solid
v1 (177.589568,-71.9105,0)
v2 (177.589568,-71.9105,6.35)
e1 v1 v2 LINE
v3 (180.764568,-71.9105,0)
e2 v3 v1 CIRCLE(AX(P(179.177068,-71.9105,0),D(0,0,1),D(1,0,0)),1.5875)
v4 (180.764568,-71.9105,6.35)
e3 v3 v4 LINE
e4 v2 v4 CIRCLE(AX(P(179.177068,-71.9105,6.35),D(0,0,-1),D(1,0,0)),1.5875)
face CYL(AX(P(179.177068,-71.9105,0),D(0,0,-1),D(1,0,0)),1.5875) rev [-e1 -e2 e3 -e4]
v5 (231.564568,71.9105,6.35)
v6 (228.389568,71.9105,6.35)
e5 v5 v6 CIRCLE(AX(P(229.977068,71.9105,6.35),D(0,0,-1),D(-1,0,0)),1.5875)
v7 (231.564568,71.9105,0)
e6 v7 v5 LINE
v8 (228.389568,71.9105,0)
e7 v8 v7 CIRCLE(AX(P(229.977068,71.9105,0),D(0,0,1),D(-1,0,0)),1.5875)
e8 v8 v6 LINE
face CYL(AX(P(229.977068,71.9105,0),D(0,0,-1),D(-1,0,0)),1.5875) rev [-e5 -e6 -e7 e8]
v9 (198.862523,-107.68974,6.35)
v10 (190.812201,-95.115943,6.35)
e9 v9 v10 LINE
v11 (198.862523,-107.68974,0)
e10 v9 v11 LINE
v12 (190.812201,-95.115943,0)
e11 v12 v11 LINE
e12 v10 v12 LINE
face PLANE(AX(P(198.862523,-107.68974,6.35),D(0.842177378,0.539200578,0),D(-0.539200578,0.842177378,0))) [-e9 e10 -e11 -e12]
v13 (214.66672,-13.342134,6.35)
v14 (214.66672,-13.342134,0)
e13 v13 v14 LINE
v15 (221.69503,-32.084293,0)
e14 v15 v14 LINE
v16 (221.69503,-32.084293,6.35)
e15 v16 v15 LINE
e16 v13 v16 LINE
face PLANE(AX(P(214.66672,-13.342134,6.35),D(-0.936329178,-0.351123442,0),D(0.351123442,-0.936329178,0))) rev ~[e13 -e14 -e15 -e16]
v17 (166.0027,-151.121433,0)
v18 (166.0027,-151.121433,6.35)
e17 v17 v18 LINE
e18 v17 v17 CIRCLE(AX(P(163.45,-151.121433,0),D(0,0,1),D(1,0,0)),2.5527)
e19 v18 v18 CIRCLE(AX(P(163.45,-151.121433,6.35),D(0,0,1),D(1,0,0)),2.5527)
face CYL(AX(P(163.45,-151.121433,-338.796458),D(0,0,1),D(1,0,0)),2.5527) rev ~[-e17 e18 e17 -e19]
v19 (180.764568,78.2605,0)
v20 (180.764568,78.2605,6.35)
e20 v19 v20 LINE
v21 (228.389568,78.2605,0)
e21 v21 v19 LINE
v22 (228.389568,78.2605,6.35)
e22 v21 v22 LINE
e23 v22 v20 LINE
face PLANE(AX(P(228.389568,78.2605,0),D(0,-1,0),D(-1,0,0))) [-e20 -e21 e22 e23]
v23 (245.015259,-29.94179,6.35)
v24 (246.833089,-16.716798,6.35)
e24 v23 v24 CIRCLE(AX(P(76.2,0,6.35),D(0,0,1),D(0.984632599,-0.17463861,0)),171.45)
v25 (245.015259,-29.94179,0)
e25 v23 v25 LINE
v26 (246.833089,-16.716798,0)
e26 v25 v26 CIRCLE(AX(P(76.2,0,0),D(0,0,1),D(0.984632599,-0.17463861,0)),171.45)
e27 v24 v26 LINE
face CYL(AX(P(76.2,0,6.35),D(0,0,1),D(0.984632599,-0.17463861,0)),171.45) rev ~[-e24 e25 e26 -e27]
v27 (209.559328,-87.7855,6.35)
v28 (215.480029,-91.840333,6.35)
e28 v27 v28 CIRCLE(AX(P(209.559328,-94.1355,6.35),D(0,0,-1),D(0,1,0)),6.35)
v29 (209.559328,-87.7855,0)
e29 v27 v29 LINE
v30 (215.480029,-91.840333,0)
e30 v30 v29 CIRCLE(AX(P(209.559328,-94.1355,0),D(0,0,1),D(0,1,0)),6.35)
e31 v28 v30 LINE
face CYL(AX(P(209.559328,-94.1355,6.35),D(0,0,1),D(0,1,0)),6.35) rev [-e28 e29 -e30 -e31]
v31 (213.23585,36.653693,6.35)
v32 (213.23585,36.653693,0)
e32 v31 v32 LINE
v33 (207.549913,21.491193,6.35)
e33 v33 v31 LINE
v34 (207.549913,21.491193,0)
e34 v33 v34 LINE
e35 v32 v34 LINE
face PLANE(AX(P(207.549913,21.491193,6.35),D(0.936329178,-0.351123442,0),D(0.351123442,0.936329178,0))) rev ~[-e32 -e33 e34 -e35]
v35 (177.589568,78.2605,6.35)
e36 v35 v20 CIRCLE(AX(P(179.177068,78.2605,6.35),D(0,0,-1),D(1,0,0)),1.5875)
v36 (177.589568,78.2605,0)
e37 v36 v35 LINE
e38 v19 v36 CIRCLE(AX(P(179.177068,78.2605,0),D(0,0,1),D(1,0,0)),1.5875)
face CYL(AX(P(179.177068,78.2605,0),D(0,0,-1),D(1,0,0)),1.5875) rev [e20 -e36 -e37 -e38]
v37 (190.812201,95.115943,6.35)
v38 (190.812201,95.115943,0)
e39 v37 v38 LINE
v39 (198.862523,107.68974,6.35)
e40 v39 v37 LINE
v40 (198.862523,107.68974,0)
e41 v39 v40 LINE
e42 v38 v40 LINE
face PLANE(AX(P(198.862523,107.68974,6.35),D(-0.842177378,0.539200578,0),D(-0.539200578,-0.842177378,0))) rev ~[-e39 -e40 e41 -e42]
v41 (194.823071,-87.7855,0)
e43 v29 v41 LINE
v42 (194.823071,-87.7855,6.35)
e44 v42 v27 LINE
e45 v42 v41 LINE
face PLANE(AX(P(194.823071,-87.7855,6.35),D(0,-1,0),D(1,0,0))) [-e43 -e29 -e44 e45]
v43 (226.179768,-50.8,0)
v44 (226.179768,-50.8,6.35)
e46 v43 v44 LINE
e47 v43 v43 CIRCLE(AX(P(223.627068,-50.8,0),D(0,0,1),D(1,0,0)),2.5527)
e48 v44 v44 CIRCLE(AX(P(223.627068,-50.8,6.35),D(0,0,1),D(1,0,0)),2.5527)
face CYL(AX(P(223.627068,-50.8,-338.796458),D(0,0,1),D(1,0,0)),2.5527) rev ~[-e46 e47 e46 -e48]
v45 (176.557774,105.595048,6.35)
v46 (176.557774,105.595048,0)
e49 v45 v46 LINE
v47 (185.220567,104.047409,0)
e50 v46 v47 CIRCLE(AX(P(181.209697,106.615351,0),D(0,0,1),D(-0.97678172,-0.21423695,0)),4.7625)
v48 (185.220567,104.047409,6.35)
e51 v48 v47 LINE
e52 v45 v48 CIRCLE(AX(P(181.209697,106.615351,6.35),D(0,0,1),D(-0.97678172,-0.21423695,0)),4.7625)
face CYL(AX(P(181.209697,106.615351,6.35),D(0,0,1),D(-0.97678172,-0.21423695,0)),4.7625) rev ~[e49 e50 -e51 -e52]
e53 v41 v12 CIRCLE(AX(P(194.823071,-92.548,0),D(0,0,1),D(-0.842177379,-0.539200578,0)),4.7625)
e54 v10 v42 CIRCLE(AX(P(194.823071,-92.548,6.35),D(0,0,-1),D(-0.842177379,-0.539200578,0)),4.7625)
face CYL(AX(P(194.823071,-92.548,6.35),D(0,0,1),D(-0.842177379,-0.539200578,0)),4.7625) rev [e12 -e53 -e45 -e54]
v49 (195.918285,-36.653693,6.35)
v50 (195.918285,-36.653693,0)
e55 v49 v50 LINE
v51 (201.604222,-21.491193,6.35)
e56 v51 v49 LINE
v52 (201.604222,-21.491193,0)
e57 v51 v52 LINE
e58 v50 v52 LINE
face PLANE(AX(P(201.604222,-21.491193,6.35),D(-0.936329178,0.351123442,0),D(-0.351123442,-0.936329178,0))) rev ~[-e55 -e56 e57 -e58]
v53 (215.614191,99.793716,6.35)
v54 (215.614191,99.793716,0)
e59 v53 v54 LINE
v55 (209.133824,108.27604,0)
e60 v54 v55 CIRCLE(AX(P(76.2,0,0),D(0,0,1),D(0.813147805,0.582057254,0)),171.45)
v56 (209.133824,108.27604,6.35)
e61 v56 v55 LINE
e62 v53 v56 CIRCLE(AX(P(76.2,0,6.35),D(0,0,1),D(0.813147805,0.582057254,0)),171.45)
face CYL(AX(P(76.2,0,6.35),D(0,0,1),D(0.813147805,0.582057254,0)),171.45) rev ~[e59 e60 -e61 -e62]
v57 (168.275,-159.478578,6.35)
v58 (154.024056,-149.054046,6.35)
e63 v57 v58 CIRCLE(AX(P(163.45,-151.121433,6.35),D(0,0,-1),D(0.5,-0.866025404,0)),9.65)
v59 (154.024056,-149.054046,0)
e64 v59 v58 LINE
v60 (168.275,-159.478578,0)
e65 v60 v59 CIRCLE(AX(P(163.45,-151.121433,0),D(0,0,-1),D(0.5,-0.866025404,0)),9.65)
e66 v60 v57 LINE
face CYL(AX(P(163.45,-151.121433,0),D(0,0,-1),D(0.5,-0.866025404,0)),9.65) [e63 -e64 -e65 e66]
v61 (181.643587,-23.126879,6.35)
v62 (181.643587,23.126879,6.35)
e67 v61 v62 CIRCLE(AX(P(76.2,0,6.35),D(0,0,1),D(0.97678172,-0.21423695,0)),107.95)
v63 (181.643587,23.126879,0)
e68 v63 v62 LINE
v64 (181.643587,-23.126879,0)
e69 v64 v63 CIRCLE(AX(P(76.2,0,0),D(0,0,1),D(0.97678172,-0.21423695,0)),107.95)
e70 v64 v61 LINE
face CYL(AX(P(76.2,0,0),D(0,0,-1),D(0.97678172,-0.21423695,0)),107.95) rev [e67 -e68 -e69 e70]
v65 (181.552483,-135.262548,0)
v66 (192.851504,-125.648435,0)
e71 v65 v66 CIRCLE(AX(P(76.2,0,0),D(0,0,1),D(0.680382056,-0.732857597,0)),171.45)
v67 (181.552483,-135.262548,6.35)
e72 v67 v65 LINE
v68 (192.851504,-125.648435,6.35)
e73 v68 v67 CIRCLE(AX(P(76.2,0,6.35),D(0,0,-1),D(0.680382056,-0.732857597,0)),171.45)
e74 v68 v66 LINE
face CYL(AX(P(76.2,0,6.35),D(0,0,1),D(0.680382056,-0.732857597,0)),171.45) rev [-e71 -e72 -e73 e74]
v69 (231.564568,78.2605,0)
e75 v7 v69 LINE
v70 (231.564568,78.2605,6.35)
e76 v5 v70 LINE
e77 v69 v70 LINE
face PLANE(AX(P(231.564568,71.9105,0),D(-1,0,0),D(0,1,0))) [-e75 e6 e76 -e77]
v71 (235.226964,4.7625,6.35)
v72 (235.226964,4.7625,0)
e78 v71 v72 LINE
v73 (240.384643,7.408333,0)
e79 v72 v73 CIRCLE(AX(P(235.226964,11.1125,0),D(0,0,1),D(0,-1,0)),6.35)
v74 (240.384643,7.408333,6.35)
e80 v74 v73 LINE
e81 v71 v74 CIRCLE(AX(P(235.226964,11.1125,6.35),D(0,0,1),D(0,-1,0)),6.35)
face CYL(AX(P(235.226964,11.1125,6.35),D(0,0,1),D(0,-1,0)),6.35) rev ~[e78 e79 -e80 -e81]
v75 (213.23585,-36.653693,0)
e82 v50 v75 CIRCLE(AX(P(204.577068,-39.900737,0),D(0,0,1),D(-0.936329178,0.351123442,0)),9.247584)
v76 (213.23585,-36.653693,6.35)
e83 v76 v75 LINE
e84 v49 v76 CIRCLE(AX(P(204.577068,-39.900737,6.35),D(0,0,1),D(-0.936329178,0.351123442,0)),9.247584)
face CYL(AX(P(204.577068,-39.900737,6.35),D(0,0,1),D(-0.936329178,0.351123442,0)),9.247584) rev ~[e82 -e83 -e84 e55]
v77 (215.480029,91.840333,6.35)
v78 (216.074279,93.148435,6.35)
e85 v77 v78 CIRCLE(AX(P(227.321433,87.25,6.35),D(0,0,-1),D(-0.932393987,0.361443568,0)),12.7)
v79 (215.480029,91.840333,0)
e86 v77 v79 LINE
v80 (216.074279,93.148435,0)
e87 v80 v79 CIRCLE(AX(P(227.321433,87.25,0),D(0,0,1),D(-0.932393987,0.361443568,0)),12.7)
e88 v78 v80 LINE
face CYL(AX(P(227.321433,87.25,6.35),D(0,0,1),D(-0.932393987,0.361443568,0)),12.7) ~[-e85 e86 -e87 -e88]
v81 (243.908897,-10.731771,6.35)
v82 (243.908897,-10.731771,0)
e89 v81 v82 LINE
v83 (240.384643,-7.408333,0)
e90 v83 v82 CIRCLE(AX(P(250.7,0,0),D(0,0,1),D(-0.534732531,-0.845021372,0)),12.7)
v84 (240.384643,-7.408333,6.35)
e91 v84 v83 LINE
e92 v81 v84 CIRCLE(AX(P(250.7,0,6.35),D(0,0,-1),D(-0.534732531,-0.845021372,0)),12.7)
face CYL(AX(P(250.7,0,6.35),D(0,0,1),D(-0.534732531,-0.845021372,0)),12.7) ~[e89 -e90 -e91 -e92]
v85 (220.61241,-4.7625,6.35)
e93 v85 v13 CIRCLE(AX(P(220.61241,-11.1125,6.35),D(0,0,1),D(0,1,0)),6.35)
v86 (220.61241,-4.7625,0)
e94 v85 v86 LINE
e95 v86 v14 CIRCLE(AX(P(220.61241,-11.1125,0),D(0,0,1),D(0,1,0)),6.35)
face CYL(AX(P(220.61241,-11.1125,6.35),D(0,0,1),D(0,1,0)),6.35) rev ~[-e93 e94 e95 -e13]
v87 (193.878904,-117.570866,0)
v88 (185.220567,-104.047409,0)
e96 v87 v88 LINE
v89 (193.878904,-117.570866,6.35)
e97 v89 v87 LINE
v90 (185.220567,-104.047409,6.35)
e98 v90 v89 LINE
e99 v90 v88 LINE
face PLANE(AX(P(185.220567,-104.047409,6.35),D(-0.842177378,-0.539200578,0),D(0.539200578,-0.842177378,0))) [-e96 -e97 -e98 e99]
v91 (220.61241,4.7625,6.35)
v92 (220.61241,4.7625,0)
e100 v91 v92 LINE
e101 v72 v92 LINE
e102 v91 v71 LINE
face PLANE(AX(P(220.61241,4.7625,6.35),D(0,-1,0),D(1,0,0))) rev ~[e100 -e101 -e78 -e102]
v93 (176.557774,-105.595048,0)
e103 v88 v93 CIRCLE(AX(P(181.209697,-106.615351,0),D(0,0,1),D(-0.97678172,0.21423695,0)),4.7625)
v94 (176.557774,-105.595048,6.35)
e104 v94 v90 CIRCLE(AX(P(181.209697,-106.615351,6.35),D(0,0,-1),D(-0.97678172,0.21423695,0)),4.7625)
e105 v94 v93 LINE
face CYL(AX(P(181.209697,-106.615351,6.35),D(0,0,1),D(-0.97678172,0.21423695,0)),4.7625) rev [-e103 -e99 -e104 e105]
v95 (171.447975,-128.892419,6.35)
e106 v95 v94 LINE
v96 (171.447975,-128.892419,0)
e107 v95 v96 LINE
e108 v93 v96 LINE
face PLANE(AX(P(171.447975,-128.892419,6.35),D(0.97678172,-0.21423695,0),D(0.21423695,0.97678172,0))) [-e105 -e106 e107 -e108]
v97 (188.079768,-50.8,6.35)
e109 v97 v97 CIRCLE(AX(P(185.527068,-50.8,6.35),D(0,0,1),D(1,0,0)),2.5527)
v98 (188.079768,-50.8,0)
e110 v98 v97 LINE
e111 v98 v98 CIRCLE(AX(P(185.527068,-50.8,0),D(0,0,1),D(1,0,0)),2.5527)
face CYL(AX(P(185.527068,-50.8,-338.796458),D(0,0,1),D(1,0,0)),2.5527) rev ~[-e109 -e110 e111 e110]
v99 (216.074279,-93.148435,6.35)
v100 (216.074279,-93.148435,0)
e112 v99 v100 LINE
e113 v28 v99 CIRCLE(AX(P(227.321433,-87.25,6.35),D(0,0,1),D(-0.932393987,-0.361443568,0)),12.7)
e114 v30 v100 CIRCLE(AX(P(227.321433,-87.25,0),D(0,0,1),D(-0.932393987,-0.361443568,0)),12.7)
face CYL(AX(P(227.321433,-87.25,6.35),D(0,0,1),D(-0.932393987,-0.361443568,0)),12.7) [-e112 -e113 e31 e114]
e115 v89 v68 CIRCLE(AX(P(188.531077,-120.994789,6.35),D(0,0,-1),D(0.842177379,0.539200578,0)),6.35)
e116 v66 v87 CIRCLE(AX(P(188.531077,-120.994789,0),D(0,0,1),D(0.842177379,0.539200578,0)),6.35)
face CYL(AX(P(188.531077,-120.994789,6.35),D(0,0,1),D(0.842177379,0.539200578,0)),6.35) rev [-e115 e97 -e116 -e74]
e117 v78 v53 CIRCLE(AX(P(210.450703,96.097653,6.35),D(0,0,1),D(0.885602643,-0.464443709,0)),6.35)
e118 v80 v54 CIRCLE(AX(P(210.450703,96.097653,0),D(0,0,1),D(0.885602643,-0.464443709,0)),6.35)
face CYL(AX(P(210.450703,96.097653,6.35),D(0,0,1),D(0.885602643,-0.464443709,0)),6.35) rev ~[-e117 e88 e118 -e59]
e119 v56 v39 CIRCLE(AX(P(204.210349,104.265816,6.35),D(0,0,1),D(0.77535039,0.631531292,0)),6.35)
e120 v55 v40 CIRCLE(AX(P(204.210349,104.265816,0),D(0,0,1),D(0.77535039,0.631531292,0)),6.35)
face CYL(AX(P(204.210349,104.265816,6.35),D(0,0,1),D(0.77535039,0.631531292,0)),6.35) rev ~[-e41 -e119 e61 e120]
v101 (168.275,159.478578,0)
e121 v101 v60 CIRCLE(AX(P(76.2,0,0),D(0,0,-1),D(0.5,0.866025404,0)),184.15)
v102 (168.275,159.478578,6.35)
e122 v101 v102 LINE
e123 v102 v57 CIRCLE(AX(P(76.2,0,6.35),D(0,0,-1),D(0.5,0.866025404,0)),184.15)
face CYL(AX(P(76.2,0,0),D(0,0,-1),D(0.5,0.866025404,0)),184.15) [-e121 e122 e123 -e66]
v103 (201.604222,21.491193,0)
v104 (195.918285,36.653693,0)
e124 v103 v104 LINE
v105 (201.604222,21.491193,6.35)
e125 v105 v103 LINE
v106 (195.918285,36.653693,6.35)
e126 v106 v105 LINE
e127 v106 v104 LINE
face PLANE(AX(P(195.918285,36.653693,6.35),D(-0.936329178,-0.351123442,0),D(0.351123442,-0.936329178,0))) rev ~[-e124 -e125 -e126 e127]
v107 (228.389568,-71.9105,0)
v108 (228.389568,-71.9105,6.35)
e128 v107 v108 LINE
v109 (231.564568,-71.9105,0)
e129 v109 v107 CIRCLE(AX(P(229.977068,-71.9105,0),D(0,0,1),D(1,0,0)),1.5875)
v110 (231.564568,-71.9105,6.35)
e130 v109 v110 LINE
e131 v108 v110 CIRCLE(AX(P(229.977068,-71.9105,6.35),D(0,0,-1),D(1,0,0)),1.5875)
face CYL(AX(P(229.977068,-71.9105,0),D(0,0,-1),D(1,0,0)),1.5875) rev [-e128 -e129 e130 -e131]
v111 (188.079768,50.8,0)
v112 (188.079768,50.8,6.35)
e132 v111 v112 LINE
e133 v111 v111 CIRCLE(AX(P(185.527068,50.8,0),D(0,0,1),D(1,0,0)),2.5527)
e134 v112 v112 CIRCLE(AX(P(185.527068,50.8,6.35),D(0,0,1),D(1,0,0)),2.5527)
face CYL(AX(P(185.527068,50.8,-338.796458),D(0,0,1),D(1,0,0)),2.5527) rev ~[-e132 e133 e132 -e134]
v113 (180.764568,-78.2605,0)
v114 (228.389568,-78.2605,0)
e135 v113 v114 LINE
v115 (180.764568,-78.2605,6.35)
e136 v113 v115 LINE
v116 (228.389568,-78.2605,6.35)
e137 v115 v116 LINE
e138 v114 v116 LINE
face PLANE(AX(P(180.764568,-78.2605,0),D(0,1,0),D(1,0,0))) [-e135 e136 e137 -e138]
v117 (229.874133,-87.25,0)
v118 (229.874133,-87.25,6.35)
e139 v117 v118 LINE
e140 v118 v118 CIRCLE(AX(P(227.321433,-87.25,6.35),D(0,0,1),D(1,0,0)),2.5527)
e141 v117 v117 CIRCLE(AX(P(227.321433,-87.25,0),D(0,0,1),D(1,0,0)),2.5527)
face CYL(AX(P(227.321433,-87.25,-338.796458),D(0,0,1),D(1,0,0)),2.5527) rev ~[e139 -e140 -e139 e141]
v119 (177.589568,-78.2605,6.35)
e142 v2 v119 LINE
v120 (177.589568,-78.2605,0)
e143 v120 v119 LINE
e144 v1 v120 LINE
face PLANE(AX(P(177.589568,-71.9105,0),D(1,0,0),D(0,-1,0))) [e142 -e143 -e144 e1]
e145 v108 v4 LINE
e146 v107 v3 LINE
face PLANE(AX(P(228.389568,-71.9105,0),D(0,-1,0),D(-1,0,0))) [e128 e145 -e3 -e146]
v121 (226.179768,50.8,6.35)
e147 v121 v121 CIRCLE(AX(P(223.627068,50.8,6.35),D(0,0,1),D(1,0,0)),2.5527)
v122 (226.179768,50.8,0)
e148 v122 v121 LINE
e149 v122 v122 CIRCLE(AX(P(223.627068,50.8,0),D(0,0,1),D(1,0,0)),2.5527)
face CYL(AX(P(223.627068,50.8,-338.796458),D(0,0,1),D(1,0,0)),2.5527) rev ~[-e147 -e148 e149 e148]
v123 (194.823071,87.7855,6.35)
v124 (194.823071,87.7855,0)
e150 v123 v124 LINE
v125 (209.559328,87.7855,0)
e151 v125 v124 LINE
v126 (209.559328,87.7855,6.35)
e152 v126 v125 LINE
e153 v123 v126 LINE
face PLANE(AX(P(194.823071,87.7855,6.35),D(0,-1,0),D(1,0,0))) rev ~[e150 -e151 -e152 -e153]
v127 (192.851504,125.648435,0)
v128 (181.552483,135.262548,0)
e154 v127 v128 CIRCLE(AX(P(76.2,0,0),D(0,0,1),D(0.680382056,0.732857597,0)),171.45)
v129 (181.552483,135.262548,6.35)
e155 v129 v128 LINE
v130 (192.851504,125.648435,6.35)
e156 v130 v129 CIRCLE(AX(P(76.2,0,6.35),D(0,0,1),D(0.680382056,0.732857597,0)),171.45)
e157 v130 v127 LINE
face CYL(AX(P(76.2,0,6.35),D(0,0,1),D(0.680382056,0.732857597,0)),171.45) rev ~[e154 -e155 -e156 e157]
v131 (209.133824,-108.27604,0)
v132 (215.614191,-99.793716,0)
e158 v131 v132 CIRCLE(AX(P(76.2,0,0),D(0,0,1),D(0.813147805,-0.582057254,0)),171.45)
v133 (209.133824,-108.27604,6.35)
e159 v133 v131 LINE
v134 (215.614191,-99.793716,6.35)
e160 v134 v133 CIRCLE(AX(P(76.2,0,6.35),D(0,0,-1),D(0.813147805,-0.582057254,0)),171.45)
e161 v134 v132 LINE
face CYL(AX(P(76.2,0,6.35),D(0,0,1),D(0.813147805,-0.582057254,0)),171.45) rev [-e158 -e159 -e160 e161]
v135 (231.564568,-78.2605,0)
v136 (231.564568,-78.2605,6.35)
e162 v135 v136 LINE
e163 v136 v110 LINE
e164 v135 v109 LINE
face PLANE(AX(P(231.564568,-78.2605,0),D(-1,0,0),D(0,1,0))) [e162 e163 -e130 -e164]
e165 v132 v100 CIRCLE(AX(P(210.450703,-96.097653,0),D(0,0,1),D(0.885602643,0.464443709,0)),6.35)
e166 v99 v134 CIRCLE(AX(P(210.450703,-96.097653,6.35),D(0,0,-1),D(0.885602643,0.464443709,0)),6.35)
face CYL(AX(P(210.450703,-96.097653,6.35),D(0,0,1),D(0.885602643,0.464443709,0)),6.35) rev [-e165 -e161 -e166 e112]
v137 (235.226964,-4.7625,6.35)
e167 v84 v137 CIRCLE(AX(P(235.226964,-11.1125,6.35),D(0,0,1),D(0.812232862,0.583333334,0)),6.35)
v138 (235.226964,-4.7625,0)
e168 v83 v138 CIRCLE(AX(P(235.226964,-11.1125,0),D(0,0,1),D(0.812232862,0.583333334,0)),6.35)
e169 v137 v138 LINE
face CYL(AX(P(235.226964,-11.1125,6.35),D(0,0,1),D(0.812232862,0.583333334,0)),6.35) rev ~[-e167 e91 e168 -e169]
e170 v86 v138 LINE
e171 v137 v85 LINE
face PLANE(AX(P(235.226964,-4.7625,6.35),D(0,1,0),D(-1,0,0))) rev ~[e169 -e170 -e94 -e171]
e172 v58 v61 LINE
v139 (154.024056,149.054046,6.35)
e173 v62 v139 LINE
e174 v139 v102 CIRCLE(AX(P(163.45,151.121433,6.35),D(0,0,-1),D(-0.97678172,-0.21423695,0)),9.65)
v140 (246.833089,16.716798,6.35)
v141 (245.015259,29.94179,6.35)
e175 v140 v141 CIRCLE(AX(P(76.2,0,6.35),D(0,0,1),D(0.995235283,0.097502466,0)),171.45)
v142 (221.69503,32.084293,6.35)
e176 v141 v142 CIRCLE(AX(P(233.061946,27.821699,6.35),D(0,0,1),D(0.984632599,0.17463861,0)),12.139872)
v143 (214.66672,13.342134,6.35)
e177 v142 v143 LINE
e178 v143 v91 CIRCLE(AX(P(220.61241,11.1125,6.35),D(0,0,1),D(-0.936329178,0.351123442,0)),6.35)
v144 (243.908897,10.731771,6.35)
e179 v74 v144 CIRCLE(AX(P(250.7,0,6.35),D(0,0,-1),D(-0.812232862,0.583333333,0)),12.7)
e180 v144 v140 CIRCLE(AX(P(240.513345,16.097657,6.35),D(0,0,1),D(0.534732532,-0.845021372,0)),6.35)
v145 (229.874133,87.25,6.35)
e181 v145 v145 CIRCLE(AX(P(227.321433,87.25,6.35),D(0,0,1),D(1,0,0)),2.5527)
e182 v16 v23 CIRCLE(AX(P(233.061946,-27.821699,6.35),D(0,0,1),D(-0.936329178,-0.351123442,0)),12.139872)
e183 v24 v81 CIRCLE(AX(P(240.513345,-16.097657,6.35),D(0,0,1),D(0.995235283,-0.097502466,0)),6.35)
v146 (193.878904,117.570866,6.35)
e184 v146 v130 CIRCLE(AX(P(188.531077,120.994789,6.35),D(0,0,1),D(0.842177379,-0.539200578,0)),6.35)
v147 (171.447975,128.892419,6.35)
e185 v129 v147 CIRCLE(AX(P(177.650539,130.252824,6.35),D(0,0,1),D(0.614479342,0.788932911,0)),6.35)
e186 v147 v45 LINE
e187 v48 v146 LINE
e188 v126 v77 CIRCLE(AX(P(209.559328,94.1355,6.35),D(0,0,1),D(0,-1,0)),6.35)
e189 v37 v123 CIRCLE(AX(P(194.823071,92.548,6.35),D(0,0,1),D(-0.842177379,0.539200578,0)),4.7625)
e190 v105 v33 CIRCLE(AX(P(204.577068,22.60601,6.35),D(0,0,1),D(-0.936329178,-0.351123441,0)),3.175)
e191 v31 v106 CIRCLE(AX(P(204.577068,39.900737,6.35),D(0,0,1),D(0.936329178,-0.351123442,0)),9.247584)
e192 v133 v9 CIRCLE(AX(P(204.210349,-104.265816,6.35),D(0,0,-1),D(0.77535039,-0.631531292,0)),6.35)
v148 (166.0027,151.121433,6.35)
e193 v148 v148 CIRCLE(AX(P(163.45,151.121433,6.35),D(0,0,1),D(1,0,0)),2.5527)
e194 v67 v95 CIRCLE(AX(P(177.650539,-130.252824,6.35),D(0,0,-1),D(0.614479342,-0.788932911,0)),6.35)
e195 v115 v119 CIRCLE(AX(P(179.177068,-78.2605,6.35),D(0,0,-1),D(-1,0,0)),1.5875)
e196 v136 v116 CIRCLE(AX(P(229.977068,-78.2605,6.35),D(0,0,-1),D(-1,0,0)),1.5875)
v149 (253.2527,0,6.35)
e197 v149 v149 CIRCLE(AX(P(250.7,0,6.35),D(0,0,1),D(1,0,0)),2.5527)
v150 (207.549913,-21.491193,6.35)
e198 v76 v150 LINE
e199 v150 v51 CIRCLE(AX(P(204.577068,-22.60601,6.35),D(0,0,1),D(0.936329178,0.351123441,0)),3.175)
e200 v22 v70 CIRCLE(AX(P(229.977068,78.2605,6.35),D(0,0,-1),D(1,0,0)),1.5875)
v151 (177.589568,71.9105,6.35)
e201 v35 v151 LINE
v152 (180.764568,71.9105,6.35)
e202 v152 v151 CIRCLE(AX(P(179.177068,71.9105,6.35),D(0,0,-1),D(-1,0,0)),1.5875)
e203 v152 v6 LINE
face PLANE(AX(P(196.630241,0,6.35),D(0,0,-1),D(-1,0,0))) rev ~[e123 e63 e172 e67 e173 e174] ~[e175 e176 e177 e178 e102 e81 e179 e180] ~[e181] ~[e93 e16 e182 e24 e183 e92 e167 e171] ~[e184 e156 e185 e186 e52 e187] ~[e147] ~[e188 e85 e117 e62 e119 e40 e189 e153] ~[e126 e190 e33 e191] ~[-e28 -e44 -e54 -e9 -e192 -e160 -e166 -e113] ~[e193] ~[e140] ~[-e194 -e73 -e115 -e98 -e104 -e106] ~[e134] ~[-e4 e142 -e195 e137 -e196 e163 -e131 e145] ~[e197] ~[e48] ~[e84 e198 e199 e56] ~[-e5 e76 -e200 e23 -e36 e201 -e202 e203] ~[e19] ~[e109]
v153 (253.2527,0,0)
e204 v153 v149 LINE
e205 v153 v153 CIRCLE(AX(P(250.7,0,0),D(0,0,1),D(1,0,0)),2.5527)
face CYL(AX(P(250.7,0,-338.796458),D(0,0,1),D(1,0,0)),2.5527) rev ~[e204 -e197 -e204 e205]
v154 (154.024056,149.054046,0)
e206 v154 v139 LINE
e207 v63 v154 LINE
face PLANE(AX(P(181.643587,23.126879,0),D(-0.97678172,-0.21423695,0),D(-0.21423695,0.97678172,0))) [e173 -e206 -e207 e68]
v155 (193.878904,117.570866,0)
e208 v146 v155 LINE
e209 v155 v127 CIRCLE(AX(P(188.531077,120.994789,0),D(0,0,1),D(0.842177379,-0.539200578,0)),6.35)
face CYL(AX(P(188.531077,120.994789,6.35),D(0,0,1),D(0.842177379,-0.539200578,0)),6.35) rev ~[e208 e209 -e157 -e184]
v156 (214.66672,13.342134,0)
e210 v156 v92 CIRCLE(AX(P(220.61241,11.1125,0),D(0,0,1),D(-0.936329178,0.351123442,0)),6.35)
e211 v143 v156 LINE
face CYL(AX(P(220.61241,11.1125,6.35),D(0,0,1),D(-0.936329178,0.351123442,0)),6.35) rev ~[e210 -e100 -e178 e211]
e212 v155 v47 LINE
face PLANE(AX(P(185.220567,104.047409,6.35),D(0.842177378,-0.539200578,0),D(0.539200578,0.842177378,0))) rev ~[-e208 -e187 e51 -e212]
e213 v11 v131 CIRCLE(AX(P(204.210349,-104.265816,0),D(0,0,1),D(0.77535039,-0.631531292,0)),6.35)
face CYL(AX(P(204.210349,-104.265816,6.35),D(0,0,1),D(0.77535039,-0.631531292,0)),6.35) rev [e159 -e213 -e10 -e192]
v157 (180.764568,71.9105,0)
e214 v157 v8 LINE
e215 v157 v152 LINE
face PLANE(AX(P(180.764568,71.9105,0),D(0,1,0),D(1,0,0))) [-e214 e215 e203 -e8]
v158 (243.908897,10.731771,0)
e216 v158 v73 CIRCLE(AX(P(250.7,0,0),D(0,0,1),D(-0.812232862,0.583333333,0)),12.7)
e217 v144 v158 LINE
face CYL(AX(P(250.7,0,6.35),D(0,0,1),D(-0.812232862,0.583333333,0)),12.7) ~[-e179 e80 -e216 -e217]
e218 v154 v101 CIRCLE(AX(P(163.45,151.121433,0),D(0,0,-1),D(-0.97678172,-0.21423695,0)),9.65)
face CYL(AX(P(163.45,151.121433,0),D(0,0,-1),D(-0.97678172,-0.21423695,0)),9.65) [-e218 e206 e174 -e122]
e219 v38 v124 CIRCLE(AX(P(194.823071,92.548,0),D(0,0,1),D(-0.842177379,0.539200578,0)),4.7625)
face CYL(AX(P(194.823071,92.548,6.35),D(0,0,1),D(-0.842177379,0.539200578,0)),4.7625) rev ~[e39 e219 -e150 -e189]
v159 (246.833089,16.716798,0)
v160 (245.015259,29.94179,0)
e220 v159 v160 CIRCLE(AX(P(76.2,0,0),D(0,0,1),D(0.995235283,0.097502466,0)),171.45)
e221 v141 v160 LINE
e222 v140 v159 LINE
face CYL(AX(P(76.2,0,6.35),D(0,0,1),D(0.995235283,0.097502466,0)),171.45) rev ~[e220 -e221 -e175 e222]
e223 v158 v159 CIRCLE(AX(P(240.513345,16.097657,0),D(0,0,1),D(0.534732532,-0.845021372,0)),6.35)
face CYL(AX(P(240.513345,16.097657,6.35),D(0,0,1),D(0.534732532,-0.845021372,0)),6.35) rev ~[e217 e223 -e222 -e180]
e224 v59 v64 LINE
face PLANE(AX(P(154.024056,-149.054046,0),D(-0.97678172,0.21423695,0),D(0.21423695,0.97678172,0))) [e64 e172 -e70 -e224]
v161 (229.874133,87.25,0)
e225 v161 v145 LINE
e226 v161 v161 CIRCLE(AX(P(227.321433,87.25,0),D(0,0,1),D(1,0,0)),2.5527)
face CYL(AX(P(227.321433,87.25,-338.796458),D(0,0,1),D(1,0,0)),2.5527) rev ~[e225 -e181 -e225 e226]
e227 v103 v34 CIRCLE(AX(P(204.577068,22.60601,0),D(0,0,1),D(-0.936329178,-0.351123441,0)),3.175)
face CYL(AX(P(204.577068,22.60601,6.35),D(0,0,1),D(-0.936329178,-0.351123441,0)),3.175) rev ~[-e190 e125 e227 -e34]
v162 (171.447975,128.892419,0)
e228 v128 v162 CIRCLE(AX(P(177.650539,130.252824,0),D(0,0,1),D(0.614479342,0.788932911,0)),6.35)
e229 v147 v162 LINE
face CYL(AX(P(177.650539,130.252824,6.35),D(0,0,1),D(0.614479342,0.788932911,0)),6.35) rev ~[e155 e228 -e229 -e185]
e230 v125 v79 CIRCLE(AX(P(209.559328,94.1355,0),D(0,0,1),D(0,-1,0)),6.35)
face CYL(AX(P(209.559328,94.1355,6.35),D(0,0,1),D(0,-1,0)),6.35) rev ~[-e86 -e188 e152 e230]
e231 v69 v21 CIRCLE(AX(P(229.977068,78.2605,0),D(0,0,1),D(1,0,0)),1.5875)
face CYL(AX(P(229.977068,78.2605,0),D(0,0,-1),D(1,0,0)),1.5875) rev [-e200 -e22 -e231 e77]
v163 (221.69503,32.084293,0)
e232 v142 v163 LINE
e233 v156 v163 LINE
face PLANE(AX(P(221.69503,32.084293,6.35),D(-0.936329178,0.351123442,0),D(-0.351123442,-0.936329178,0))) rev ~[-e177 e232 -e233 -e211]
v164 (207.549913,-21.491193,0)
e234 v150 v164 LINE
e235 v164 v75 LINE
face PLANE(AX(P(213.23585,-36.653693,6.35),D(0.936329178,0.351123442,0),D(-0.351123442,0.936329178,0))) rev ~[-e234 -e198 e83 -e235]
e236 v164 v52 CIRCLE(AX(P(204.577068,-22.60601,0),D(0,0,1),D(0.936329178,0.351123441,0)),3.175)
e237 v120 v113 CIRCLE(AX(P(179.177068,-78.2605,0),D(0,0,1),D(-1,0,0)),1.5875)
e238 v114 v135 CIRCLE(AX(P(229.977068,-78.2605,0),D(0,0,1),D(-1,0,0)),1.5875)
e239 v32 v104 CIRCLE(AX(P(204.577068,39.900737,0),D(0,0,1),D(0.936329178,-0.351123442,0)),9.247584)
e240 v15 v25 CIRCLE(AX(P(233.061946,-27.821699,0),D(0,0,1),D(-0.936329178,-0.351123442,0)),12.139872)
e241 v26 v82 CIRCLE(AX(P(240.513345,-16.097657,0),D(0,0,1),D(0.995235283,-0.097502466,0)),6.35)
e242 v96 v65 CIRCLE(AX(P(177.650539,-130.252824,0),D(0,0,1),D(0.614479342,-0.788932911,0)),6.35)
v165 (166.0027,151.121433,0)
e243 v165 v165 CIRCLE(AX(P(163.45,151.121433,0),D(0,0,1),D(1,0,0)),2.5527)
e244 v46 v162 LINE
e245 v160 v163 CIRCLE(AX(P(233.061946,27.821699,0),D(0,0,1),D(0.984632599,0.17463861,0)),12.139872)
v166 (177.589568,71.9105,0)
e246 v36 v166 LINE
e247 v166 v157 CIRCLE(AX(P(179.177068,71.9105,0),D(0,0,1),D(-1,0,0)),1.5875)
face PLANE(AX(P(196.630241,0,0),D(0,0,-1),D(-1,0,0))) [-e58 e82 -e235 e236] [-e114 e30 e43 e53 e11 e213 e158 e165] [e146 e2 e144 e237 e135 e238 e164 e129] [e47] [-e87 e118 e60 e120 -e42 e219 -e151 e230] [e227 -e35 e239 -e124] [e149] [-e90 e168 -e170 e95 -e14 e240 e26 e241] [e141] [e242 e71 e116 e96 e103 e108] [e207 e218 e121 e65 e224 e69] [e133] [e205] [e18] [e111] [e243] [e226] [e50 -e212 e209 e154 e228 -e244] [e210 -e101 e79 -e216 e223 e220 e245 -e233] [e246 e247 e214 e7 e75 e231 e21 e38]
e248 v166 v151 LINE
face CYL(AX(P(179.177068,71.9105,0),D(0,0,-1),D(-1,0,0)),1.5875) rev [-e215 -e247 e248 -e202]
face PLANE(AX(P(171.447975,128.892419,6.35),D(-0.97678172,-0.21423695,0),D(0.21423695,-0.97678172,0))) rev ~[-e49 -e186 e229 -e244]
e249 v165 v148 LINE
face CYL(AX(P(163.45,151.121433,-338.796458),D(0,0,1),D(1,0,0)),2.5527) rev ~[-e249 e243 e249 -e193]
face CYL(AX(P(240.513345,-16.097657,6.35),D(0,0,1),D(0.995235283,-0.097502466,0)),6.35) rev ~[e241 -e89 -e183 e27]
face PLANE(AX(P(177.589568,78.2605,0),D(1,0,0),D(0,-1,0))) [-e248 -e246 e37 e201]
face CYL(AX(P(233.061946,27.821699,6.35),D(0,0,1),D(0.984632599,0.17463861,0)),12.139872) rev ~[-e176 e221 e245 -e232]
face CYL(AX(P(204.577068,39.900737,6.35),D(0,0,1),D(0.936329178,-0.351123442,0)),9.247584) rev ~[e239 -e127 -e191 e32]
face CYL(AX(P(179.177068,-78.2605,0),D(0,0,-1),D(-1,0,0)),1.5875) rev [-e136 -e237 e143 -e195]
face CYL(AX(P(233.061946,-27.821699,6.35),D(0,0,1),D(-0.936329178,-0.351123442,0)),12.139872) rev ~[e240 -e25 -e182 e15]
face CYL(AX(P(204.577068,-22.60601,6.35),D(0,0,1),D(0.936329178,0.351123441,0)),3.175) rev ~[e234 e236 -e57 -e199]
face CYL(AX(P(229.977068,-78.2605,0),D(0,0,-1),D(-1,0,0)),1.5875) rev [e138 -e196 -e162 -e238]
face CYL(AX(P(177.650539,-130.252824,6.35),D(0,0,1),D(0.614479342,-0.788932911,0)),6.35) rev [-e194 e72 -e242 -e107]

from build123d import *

# Parameters (mm, degrees)
BOSS_EXTRUDE1_DEPTH    = 6.35
F_10_CLEARANCE_HOLE1_D = 5.1054
CUT_EXTRUDE3_DEPTH     = 307.055384949
F_10_CLEARANCE_HOLE2_D = 5.1054
CUT_EXTRUDE4_DEPTH     = 307.055384949


with BuildPart() as part:
    # Sketch1 → Boss-Extrude1 (new body)
    with BuildSketch(Plane.XY):
        with BuildLine():
            Line((181.643586711, 23.126878769), (154.024056399, 149.054046391))
            ThreePointArc((154.024056399, 149.054046391), (157.752642202, 158.91005377), (168.275, 159.478578107))
            ThreePointArc((168.275, 159.478578107), (260.35, 0), (168.275, -159.478578107))
            ThreePointArc((168.275, -159.478578107), (157.752642202, -158.91005377), (154.024056399, -149.054046391))
            Line((154.024056399, -149.054046391), (181.643586711, -23.126878769))
            ThreePointArc((181.643586711, -23.126878769), (184.15, 0), (181.643586711, 23.126878769))
        make_face()
    extrude(amount=BOSS_EXTRUDE1_DEPTH)

    # #10 Clearance Hole1 (through all)
    with Locations(Plane(origin=(0, 0, 0), x_dir=(-1, 0, 0), z_dir=(0, 0, -1))):
        with Locations((-227.32143296, 87.25), (-250.7, 0), (-227.32143296, -87.25), (-163.45, 151.12143296), (-163.45, -151.12143296)):
            Hole(F_10_CLEARANCE_HOLE1_D / 2)

    # Sketch4 → Cut-Extrude3 (cut, through all)
    with BuildSketch(Plane(origin=(0, 0, 0), x_dir=(-1, 0, 0), z_dir=(0, 0, -1))):
        with BuildLine():
            Line((-228.389567551, -71.9105), (-180.764567551, -71.9105))
            ThreePointArc((-180.764567551, -71.9105), (-179.177067551, -70.323), (-177.589567551, -71.9105))
            Line((-177.589567551, -71.9105), (-177.589567551, -78.2605))
            ThreePointArc((-177.589567551, -78.2605), (-179.177067551, -79.848), (-180.764567551, -78.2605))
            Line((-180.764567551, -78.2605), (-228.389567551, -78.2605))
            ThreePointArc((-228.389567551, -78.2605), (-229.977067551, -79.848), (-231.564567551, -78.2605))
            Line((-231.564567551, -78.2605), (-231.564567551, -71.9105))
            ThreePointArc((-231.564567551, -71.9105), (-229.977067551, -70.323), (-228.389567551, -71.9105))
        make_face()
        with BuildLine():
            Line((-228.389567551, 78.2605), (-180.764567551, 78.2605))
            ThreePointArc((-180.764567551, 78.2605), (-179.177067551, 79.848), (-177.589567551, 78.2605))
            Line((-177.589567551, 78.2605), (-177.589567551, 71.9105))
            ThreePointArc((-177.589567551, 71.9105), (-179.177067551, 70.323), (-180.764567551, 71.9105))
            Line((-180.764567551, 71.9105), (-228.389567551, 71.9105))
            ThreePointArc((-228.389567551, 71.9105), (-229.977067551, 70.323), (-231.564567551, 71.9105))
            Line((-231.564567551, 71.9105), (-231.564567551, 78.2605))
            ThreePointArc((-231.564567551, 78.2605), (-229.977067551, 79.848), (-228.389567551, 78.2605))
        make_face()
    extrude(amount=-CUT_EXTRUDE3_DEPTH, mode=Mode.SUBTRACT)

    # #10 Clearance Hole2 (through all)
    with Locations(Plane(origin=(0, 0, 0), x_dir=(-1, 0, 0), z_dir=(0, 0, -1))):
        with Locations((-223.627067551, -50.8), (-185.527067551, 50.8), (-185.527067551, -50.8), (-223.627067551, 50.8)):
            Hole(F_10_CLEARANCE_HOLE2_D / 2)

    # Sketch7 → Cut-Extrude4 (cut, through all)
    with BuildSketch(Plane.XY.offset(6.35)):
        with BuildLine():
            Line((171.447975375, 128.892419043), (176.557773829, 105.595047978))
            ThreePointArc((176.557773829, 105.595047978), (180.372120431, 101.927081823), (185.220566537, 104.0474087))
            Line((185.220566537, 104.0474087), (193.878903814, 117.570865625))
            ThreePointArc((193.878903814, 117.570865625), (194.830328056, 121.796002086), (192.851503517, 125.648435037))
            ThreePointArc((192.851503517, 125.648435037), (187.306031839, 130.577762996), (181.552483119, 135.262547664))
            ThreePointArc((181.552483119, 135.262547664), (174.264118198, 135.62447632), (171.447975375, 128.892419043))
        make_face()
        with BuildLine():
            Line((194.823071175, 87.7855), (209.559327518, 87.7855))
            ThreePointArc((209.559327518, 87.7855), (213.147376547, 88.896377538), (215.480029332, 91.840333333))
            ThreePointArc((215.480029332, 91.840333333), (215.758641305, 92.502794413), (216.074279397, 93.148435108))
            ThreePointArc((216.074279397, 93.148435108), (216.785537654, 96.536247046), (215.614191178, 99.793716226))
            ThreePointArc((215.614191178, 99.793716226), (212.440037594, 104.085323924), (209.133824342, 108.276040036))
            ThreePointArc((209.133824342, 108.276040036), (203.848471686, 110.605496492), (198.862523013, 107.689740001))
            Line((198.862523013, 107.689740001), (190.81220141, 95.115942753))
            ThreePointArc((190.81220141, 95.115942753), (190.645079217, 90.262001434), (194.823071175, 87.7855))
        make_face()
        with BuildLine():
            Line((195.918284861, 36.653693121), (201.604222413, 21.491192982))
            ThreePointArc((201.604222413, 21.491192982), (204.577067551, 19.431009909), (207.54991269, 21.491192982))
            Line((207.54991269, 21.491192982), (213.235850242, 36.653693121))
            ThreePointArc((213.235850242, 36.653693121), (204.577067551, 49.148320597), (195.918284861, 36.653693121))
        make_face()
        with BuildLine():
            Line((221.69502961, 32.084292878), (214.666719976, 13.342133854))
            ThreePointArc((214.666719976, 13.342133854), (215.393182582, 7.49557278), (220.612410254, 4.7625))
            Line((220.612410254, 4.7625), (235.226963978, 4.7625))
            ThreePointArc((235.226963978, 4.7625), (238.125329178, 5.462546092), (240.384642652, 7.408333333))
            ThreePointArc((240.384642652, 7.408333333), (241.986845697, 9.239639717), (243.908896848, 10.731771428))
            ThreePointArc((243.908896848, 10.731771428), (246.218770536, 13.3100735), (246.833089321, 16.716797801))
            ThreePointArc((246.833089321, 16.716797801), (246.052937647, 23.346992794), (245.01525918, 29.941789658))
            ThreePointArc((245.01525918, 29.941789658), (234.172596645, 39.910658767), (221.69502961, 32.084292878))
        make_face()
        with BuildLine():
            Line((235.226963978, -4.7625), (220.612410254, -4.7625))
            ThreePointArc((220.612410254, -4.7625), (215.393182582, -7.49557278), (214.666719976, -13.342133854))
            Line((214.666719976, -13.342133854), (221.69502961, -32.084292878))
            ThreePointArc((221.69502961, -32.084292878), (234.172596645, -39.910658767), (245.01525918, -29.941789658))
            ThreePointArc((245.01525918, -29.941789658), (246.052937647, -23.346992794), (246.833089321, -16.716797801))
            ThreePointArc((246.833089321, -16.716797801), (246.218770536, -13.3100735), (243.908896848, -10.731771428))
            ThreePointArc((243.908896848, -10.731771428), (241.986845697, -9.239639717), (240.384642652, -7.408333333))
            ThreePointArc((240.384642652, -7.408333333), (238.125329178, -5.462546092), (235.226963978, -4.7625))
        make_face()
        with BuildLine():
            Line((213.235850242, -36.653693121), (207.54991269, -21.491192982))
            ThreePointArc((207.54991269, -21.491192982), (204.577067551, -19.431009909), (201.604222413, -21.491192982))
            Line((201.604222413, -21.491192982), (195.918284861, -36.653693121))
            ThreePointArc((195.918284861, -36.653693121), (204.577067551, -49.148320597), (213.235850242, -36.653693121))
        make_face()
        with BuildLine():
            Line((194.823071175, -87.7855), (209.559327518, -87.7855))
            ThreePointArc((209.559327518, -87.7855), (213.147376547, -88.896377538), (215.480029332, -91.840333333))
            ThreePointArc((215.480029332, -91.840333333), (215.758641305, -92.502794413), (216.074279397, -93.148435108))
            ThreePointArc((216.074279397, -93.148435108), (216.785537654, -96.536247046), (215.614191178, -99.793716226))
            ThreePointArc((215.614191178, -99.793716226), (212.440037594, -104.085323924), (209.133824342, -108.276040036))
            ThreePointArc((209.133824342, -108.276040036), (203.848471686, -110.605496492), (198.862523013, -107.689740001))
            Line((198.862523013, -107.689740001), (190.81220141, -95.115942753))
            ThreePointArc((190.81220141, -95.115942753), (190.645079217, -90.262001434), (194.823071175, -87.7855))
        make_face()
        with BuildLine():
            Line((185.220566537, -104.0474087), (193.878903814, -117.570865625))
            ThreePointArc((193.878903814, -117.570865625), (194.830328056, -121.796002086), (192.851503517, -125.648435037))
            ThreePointArc((192.851503517, -125.648435037), (187.306031839, -130.577762996), (181.552483119, -135.262547664))
            ThreePointArc((181.552483119, -135.262547664), (174.264118198, -135.62447632), (171.447975375, -128.892419043))
            Line((171.447975375, -128.892419043), (176.557773829, -105.595047978))
            ThreePointArc((176.557773829, -105.595047978), (180.372120431, -101.927081823), (185.220566537, -104.0474087))
        make_face()
    extrude(amount=-CUT_EXTRUDE4_DEPTH, mode=Mode.SUBTRACT)


solid = part.part
